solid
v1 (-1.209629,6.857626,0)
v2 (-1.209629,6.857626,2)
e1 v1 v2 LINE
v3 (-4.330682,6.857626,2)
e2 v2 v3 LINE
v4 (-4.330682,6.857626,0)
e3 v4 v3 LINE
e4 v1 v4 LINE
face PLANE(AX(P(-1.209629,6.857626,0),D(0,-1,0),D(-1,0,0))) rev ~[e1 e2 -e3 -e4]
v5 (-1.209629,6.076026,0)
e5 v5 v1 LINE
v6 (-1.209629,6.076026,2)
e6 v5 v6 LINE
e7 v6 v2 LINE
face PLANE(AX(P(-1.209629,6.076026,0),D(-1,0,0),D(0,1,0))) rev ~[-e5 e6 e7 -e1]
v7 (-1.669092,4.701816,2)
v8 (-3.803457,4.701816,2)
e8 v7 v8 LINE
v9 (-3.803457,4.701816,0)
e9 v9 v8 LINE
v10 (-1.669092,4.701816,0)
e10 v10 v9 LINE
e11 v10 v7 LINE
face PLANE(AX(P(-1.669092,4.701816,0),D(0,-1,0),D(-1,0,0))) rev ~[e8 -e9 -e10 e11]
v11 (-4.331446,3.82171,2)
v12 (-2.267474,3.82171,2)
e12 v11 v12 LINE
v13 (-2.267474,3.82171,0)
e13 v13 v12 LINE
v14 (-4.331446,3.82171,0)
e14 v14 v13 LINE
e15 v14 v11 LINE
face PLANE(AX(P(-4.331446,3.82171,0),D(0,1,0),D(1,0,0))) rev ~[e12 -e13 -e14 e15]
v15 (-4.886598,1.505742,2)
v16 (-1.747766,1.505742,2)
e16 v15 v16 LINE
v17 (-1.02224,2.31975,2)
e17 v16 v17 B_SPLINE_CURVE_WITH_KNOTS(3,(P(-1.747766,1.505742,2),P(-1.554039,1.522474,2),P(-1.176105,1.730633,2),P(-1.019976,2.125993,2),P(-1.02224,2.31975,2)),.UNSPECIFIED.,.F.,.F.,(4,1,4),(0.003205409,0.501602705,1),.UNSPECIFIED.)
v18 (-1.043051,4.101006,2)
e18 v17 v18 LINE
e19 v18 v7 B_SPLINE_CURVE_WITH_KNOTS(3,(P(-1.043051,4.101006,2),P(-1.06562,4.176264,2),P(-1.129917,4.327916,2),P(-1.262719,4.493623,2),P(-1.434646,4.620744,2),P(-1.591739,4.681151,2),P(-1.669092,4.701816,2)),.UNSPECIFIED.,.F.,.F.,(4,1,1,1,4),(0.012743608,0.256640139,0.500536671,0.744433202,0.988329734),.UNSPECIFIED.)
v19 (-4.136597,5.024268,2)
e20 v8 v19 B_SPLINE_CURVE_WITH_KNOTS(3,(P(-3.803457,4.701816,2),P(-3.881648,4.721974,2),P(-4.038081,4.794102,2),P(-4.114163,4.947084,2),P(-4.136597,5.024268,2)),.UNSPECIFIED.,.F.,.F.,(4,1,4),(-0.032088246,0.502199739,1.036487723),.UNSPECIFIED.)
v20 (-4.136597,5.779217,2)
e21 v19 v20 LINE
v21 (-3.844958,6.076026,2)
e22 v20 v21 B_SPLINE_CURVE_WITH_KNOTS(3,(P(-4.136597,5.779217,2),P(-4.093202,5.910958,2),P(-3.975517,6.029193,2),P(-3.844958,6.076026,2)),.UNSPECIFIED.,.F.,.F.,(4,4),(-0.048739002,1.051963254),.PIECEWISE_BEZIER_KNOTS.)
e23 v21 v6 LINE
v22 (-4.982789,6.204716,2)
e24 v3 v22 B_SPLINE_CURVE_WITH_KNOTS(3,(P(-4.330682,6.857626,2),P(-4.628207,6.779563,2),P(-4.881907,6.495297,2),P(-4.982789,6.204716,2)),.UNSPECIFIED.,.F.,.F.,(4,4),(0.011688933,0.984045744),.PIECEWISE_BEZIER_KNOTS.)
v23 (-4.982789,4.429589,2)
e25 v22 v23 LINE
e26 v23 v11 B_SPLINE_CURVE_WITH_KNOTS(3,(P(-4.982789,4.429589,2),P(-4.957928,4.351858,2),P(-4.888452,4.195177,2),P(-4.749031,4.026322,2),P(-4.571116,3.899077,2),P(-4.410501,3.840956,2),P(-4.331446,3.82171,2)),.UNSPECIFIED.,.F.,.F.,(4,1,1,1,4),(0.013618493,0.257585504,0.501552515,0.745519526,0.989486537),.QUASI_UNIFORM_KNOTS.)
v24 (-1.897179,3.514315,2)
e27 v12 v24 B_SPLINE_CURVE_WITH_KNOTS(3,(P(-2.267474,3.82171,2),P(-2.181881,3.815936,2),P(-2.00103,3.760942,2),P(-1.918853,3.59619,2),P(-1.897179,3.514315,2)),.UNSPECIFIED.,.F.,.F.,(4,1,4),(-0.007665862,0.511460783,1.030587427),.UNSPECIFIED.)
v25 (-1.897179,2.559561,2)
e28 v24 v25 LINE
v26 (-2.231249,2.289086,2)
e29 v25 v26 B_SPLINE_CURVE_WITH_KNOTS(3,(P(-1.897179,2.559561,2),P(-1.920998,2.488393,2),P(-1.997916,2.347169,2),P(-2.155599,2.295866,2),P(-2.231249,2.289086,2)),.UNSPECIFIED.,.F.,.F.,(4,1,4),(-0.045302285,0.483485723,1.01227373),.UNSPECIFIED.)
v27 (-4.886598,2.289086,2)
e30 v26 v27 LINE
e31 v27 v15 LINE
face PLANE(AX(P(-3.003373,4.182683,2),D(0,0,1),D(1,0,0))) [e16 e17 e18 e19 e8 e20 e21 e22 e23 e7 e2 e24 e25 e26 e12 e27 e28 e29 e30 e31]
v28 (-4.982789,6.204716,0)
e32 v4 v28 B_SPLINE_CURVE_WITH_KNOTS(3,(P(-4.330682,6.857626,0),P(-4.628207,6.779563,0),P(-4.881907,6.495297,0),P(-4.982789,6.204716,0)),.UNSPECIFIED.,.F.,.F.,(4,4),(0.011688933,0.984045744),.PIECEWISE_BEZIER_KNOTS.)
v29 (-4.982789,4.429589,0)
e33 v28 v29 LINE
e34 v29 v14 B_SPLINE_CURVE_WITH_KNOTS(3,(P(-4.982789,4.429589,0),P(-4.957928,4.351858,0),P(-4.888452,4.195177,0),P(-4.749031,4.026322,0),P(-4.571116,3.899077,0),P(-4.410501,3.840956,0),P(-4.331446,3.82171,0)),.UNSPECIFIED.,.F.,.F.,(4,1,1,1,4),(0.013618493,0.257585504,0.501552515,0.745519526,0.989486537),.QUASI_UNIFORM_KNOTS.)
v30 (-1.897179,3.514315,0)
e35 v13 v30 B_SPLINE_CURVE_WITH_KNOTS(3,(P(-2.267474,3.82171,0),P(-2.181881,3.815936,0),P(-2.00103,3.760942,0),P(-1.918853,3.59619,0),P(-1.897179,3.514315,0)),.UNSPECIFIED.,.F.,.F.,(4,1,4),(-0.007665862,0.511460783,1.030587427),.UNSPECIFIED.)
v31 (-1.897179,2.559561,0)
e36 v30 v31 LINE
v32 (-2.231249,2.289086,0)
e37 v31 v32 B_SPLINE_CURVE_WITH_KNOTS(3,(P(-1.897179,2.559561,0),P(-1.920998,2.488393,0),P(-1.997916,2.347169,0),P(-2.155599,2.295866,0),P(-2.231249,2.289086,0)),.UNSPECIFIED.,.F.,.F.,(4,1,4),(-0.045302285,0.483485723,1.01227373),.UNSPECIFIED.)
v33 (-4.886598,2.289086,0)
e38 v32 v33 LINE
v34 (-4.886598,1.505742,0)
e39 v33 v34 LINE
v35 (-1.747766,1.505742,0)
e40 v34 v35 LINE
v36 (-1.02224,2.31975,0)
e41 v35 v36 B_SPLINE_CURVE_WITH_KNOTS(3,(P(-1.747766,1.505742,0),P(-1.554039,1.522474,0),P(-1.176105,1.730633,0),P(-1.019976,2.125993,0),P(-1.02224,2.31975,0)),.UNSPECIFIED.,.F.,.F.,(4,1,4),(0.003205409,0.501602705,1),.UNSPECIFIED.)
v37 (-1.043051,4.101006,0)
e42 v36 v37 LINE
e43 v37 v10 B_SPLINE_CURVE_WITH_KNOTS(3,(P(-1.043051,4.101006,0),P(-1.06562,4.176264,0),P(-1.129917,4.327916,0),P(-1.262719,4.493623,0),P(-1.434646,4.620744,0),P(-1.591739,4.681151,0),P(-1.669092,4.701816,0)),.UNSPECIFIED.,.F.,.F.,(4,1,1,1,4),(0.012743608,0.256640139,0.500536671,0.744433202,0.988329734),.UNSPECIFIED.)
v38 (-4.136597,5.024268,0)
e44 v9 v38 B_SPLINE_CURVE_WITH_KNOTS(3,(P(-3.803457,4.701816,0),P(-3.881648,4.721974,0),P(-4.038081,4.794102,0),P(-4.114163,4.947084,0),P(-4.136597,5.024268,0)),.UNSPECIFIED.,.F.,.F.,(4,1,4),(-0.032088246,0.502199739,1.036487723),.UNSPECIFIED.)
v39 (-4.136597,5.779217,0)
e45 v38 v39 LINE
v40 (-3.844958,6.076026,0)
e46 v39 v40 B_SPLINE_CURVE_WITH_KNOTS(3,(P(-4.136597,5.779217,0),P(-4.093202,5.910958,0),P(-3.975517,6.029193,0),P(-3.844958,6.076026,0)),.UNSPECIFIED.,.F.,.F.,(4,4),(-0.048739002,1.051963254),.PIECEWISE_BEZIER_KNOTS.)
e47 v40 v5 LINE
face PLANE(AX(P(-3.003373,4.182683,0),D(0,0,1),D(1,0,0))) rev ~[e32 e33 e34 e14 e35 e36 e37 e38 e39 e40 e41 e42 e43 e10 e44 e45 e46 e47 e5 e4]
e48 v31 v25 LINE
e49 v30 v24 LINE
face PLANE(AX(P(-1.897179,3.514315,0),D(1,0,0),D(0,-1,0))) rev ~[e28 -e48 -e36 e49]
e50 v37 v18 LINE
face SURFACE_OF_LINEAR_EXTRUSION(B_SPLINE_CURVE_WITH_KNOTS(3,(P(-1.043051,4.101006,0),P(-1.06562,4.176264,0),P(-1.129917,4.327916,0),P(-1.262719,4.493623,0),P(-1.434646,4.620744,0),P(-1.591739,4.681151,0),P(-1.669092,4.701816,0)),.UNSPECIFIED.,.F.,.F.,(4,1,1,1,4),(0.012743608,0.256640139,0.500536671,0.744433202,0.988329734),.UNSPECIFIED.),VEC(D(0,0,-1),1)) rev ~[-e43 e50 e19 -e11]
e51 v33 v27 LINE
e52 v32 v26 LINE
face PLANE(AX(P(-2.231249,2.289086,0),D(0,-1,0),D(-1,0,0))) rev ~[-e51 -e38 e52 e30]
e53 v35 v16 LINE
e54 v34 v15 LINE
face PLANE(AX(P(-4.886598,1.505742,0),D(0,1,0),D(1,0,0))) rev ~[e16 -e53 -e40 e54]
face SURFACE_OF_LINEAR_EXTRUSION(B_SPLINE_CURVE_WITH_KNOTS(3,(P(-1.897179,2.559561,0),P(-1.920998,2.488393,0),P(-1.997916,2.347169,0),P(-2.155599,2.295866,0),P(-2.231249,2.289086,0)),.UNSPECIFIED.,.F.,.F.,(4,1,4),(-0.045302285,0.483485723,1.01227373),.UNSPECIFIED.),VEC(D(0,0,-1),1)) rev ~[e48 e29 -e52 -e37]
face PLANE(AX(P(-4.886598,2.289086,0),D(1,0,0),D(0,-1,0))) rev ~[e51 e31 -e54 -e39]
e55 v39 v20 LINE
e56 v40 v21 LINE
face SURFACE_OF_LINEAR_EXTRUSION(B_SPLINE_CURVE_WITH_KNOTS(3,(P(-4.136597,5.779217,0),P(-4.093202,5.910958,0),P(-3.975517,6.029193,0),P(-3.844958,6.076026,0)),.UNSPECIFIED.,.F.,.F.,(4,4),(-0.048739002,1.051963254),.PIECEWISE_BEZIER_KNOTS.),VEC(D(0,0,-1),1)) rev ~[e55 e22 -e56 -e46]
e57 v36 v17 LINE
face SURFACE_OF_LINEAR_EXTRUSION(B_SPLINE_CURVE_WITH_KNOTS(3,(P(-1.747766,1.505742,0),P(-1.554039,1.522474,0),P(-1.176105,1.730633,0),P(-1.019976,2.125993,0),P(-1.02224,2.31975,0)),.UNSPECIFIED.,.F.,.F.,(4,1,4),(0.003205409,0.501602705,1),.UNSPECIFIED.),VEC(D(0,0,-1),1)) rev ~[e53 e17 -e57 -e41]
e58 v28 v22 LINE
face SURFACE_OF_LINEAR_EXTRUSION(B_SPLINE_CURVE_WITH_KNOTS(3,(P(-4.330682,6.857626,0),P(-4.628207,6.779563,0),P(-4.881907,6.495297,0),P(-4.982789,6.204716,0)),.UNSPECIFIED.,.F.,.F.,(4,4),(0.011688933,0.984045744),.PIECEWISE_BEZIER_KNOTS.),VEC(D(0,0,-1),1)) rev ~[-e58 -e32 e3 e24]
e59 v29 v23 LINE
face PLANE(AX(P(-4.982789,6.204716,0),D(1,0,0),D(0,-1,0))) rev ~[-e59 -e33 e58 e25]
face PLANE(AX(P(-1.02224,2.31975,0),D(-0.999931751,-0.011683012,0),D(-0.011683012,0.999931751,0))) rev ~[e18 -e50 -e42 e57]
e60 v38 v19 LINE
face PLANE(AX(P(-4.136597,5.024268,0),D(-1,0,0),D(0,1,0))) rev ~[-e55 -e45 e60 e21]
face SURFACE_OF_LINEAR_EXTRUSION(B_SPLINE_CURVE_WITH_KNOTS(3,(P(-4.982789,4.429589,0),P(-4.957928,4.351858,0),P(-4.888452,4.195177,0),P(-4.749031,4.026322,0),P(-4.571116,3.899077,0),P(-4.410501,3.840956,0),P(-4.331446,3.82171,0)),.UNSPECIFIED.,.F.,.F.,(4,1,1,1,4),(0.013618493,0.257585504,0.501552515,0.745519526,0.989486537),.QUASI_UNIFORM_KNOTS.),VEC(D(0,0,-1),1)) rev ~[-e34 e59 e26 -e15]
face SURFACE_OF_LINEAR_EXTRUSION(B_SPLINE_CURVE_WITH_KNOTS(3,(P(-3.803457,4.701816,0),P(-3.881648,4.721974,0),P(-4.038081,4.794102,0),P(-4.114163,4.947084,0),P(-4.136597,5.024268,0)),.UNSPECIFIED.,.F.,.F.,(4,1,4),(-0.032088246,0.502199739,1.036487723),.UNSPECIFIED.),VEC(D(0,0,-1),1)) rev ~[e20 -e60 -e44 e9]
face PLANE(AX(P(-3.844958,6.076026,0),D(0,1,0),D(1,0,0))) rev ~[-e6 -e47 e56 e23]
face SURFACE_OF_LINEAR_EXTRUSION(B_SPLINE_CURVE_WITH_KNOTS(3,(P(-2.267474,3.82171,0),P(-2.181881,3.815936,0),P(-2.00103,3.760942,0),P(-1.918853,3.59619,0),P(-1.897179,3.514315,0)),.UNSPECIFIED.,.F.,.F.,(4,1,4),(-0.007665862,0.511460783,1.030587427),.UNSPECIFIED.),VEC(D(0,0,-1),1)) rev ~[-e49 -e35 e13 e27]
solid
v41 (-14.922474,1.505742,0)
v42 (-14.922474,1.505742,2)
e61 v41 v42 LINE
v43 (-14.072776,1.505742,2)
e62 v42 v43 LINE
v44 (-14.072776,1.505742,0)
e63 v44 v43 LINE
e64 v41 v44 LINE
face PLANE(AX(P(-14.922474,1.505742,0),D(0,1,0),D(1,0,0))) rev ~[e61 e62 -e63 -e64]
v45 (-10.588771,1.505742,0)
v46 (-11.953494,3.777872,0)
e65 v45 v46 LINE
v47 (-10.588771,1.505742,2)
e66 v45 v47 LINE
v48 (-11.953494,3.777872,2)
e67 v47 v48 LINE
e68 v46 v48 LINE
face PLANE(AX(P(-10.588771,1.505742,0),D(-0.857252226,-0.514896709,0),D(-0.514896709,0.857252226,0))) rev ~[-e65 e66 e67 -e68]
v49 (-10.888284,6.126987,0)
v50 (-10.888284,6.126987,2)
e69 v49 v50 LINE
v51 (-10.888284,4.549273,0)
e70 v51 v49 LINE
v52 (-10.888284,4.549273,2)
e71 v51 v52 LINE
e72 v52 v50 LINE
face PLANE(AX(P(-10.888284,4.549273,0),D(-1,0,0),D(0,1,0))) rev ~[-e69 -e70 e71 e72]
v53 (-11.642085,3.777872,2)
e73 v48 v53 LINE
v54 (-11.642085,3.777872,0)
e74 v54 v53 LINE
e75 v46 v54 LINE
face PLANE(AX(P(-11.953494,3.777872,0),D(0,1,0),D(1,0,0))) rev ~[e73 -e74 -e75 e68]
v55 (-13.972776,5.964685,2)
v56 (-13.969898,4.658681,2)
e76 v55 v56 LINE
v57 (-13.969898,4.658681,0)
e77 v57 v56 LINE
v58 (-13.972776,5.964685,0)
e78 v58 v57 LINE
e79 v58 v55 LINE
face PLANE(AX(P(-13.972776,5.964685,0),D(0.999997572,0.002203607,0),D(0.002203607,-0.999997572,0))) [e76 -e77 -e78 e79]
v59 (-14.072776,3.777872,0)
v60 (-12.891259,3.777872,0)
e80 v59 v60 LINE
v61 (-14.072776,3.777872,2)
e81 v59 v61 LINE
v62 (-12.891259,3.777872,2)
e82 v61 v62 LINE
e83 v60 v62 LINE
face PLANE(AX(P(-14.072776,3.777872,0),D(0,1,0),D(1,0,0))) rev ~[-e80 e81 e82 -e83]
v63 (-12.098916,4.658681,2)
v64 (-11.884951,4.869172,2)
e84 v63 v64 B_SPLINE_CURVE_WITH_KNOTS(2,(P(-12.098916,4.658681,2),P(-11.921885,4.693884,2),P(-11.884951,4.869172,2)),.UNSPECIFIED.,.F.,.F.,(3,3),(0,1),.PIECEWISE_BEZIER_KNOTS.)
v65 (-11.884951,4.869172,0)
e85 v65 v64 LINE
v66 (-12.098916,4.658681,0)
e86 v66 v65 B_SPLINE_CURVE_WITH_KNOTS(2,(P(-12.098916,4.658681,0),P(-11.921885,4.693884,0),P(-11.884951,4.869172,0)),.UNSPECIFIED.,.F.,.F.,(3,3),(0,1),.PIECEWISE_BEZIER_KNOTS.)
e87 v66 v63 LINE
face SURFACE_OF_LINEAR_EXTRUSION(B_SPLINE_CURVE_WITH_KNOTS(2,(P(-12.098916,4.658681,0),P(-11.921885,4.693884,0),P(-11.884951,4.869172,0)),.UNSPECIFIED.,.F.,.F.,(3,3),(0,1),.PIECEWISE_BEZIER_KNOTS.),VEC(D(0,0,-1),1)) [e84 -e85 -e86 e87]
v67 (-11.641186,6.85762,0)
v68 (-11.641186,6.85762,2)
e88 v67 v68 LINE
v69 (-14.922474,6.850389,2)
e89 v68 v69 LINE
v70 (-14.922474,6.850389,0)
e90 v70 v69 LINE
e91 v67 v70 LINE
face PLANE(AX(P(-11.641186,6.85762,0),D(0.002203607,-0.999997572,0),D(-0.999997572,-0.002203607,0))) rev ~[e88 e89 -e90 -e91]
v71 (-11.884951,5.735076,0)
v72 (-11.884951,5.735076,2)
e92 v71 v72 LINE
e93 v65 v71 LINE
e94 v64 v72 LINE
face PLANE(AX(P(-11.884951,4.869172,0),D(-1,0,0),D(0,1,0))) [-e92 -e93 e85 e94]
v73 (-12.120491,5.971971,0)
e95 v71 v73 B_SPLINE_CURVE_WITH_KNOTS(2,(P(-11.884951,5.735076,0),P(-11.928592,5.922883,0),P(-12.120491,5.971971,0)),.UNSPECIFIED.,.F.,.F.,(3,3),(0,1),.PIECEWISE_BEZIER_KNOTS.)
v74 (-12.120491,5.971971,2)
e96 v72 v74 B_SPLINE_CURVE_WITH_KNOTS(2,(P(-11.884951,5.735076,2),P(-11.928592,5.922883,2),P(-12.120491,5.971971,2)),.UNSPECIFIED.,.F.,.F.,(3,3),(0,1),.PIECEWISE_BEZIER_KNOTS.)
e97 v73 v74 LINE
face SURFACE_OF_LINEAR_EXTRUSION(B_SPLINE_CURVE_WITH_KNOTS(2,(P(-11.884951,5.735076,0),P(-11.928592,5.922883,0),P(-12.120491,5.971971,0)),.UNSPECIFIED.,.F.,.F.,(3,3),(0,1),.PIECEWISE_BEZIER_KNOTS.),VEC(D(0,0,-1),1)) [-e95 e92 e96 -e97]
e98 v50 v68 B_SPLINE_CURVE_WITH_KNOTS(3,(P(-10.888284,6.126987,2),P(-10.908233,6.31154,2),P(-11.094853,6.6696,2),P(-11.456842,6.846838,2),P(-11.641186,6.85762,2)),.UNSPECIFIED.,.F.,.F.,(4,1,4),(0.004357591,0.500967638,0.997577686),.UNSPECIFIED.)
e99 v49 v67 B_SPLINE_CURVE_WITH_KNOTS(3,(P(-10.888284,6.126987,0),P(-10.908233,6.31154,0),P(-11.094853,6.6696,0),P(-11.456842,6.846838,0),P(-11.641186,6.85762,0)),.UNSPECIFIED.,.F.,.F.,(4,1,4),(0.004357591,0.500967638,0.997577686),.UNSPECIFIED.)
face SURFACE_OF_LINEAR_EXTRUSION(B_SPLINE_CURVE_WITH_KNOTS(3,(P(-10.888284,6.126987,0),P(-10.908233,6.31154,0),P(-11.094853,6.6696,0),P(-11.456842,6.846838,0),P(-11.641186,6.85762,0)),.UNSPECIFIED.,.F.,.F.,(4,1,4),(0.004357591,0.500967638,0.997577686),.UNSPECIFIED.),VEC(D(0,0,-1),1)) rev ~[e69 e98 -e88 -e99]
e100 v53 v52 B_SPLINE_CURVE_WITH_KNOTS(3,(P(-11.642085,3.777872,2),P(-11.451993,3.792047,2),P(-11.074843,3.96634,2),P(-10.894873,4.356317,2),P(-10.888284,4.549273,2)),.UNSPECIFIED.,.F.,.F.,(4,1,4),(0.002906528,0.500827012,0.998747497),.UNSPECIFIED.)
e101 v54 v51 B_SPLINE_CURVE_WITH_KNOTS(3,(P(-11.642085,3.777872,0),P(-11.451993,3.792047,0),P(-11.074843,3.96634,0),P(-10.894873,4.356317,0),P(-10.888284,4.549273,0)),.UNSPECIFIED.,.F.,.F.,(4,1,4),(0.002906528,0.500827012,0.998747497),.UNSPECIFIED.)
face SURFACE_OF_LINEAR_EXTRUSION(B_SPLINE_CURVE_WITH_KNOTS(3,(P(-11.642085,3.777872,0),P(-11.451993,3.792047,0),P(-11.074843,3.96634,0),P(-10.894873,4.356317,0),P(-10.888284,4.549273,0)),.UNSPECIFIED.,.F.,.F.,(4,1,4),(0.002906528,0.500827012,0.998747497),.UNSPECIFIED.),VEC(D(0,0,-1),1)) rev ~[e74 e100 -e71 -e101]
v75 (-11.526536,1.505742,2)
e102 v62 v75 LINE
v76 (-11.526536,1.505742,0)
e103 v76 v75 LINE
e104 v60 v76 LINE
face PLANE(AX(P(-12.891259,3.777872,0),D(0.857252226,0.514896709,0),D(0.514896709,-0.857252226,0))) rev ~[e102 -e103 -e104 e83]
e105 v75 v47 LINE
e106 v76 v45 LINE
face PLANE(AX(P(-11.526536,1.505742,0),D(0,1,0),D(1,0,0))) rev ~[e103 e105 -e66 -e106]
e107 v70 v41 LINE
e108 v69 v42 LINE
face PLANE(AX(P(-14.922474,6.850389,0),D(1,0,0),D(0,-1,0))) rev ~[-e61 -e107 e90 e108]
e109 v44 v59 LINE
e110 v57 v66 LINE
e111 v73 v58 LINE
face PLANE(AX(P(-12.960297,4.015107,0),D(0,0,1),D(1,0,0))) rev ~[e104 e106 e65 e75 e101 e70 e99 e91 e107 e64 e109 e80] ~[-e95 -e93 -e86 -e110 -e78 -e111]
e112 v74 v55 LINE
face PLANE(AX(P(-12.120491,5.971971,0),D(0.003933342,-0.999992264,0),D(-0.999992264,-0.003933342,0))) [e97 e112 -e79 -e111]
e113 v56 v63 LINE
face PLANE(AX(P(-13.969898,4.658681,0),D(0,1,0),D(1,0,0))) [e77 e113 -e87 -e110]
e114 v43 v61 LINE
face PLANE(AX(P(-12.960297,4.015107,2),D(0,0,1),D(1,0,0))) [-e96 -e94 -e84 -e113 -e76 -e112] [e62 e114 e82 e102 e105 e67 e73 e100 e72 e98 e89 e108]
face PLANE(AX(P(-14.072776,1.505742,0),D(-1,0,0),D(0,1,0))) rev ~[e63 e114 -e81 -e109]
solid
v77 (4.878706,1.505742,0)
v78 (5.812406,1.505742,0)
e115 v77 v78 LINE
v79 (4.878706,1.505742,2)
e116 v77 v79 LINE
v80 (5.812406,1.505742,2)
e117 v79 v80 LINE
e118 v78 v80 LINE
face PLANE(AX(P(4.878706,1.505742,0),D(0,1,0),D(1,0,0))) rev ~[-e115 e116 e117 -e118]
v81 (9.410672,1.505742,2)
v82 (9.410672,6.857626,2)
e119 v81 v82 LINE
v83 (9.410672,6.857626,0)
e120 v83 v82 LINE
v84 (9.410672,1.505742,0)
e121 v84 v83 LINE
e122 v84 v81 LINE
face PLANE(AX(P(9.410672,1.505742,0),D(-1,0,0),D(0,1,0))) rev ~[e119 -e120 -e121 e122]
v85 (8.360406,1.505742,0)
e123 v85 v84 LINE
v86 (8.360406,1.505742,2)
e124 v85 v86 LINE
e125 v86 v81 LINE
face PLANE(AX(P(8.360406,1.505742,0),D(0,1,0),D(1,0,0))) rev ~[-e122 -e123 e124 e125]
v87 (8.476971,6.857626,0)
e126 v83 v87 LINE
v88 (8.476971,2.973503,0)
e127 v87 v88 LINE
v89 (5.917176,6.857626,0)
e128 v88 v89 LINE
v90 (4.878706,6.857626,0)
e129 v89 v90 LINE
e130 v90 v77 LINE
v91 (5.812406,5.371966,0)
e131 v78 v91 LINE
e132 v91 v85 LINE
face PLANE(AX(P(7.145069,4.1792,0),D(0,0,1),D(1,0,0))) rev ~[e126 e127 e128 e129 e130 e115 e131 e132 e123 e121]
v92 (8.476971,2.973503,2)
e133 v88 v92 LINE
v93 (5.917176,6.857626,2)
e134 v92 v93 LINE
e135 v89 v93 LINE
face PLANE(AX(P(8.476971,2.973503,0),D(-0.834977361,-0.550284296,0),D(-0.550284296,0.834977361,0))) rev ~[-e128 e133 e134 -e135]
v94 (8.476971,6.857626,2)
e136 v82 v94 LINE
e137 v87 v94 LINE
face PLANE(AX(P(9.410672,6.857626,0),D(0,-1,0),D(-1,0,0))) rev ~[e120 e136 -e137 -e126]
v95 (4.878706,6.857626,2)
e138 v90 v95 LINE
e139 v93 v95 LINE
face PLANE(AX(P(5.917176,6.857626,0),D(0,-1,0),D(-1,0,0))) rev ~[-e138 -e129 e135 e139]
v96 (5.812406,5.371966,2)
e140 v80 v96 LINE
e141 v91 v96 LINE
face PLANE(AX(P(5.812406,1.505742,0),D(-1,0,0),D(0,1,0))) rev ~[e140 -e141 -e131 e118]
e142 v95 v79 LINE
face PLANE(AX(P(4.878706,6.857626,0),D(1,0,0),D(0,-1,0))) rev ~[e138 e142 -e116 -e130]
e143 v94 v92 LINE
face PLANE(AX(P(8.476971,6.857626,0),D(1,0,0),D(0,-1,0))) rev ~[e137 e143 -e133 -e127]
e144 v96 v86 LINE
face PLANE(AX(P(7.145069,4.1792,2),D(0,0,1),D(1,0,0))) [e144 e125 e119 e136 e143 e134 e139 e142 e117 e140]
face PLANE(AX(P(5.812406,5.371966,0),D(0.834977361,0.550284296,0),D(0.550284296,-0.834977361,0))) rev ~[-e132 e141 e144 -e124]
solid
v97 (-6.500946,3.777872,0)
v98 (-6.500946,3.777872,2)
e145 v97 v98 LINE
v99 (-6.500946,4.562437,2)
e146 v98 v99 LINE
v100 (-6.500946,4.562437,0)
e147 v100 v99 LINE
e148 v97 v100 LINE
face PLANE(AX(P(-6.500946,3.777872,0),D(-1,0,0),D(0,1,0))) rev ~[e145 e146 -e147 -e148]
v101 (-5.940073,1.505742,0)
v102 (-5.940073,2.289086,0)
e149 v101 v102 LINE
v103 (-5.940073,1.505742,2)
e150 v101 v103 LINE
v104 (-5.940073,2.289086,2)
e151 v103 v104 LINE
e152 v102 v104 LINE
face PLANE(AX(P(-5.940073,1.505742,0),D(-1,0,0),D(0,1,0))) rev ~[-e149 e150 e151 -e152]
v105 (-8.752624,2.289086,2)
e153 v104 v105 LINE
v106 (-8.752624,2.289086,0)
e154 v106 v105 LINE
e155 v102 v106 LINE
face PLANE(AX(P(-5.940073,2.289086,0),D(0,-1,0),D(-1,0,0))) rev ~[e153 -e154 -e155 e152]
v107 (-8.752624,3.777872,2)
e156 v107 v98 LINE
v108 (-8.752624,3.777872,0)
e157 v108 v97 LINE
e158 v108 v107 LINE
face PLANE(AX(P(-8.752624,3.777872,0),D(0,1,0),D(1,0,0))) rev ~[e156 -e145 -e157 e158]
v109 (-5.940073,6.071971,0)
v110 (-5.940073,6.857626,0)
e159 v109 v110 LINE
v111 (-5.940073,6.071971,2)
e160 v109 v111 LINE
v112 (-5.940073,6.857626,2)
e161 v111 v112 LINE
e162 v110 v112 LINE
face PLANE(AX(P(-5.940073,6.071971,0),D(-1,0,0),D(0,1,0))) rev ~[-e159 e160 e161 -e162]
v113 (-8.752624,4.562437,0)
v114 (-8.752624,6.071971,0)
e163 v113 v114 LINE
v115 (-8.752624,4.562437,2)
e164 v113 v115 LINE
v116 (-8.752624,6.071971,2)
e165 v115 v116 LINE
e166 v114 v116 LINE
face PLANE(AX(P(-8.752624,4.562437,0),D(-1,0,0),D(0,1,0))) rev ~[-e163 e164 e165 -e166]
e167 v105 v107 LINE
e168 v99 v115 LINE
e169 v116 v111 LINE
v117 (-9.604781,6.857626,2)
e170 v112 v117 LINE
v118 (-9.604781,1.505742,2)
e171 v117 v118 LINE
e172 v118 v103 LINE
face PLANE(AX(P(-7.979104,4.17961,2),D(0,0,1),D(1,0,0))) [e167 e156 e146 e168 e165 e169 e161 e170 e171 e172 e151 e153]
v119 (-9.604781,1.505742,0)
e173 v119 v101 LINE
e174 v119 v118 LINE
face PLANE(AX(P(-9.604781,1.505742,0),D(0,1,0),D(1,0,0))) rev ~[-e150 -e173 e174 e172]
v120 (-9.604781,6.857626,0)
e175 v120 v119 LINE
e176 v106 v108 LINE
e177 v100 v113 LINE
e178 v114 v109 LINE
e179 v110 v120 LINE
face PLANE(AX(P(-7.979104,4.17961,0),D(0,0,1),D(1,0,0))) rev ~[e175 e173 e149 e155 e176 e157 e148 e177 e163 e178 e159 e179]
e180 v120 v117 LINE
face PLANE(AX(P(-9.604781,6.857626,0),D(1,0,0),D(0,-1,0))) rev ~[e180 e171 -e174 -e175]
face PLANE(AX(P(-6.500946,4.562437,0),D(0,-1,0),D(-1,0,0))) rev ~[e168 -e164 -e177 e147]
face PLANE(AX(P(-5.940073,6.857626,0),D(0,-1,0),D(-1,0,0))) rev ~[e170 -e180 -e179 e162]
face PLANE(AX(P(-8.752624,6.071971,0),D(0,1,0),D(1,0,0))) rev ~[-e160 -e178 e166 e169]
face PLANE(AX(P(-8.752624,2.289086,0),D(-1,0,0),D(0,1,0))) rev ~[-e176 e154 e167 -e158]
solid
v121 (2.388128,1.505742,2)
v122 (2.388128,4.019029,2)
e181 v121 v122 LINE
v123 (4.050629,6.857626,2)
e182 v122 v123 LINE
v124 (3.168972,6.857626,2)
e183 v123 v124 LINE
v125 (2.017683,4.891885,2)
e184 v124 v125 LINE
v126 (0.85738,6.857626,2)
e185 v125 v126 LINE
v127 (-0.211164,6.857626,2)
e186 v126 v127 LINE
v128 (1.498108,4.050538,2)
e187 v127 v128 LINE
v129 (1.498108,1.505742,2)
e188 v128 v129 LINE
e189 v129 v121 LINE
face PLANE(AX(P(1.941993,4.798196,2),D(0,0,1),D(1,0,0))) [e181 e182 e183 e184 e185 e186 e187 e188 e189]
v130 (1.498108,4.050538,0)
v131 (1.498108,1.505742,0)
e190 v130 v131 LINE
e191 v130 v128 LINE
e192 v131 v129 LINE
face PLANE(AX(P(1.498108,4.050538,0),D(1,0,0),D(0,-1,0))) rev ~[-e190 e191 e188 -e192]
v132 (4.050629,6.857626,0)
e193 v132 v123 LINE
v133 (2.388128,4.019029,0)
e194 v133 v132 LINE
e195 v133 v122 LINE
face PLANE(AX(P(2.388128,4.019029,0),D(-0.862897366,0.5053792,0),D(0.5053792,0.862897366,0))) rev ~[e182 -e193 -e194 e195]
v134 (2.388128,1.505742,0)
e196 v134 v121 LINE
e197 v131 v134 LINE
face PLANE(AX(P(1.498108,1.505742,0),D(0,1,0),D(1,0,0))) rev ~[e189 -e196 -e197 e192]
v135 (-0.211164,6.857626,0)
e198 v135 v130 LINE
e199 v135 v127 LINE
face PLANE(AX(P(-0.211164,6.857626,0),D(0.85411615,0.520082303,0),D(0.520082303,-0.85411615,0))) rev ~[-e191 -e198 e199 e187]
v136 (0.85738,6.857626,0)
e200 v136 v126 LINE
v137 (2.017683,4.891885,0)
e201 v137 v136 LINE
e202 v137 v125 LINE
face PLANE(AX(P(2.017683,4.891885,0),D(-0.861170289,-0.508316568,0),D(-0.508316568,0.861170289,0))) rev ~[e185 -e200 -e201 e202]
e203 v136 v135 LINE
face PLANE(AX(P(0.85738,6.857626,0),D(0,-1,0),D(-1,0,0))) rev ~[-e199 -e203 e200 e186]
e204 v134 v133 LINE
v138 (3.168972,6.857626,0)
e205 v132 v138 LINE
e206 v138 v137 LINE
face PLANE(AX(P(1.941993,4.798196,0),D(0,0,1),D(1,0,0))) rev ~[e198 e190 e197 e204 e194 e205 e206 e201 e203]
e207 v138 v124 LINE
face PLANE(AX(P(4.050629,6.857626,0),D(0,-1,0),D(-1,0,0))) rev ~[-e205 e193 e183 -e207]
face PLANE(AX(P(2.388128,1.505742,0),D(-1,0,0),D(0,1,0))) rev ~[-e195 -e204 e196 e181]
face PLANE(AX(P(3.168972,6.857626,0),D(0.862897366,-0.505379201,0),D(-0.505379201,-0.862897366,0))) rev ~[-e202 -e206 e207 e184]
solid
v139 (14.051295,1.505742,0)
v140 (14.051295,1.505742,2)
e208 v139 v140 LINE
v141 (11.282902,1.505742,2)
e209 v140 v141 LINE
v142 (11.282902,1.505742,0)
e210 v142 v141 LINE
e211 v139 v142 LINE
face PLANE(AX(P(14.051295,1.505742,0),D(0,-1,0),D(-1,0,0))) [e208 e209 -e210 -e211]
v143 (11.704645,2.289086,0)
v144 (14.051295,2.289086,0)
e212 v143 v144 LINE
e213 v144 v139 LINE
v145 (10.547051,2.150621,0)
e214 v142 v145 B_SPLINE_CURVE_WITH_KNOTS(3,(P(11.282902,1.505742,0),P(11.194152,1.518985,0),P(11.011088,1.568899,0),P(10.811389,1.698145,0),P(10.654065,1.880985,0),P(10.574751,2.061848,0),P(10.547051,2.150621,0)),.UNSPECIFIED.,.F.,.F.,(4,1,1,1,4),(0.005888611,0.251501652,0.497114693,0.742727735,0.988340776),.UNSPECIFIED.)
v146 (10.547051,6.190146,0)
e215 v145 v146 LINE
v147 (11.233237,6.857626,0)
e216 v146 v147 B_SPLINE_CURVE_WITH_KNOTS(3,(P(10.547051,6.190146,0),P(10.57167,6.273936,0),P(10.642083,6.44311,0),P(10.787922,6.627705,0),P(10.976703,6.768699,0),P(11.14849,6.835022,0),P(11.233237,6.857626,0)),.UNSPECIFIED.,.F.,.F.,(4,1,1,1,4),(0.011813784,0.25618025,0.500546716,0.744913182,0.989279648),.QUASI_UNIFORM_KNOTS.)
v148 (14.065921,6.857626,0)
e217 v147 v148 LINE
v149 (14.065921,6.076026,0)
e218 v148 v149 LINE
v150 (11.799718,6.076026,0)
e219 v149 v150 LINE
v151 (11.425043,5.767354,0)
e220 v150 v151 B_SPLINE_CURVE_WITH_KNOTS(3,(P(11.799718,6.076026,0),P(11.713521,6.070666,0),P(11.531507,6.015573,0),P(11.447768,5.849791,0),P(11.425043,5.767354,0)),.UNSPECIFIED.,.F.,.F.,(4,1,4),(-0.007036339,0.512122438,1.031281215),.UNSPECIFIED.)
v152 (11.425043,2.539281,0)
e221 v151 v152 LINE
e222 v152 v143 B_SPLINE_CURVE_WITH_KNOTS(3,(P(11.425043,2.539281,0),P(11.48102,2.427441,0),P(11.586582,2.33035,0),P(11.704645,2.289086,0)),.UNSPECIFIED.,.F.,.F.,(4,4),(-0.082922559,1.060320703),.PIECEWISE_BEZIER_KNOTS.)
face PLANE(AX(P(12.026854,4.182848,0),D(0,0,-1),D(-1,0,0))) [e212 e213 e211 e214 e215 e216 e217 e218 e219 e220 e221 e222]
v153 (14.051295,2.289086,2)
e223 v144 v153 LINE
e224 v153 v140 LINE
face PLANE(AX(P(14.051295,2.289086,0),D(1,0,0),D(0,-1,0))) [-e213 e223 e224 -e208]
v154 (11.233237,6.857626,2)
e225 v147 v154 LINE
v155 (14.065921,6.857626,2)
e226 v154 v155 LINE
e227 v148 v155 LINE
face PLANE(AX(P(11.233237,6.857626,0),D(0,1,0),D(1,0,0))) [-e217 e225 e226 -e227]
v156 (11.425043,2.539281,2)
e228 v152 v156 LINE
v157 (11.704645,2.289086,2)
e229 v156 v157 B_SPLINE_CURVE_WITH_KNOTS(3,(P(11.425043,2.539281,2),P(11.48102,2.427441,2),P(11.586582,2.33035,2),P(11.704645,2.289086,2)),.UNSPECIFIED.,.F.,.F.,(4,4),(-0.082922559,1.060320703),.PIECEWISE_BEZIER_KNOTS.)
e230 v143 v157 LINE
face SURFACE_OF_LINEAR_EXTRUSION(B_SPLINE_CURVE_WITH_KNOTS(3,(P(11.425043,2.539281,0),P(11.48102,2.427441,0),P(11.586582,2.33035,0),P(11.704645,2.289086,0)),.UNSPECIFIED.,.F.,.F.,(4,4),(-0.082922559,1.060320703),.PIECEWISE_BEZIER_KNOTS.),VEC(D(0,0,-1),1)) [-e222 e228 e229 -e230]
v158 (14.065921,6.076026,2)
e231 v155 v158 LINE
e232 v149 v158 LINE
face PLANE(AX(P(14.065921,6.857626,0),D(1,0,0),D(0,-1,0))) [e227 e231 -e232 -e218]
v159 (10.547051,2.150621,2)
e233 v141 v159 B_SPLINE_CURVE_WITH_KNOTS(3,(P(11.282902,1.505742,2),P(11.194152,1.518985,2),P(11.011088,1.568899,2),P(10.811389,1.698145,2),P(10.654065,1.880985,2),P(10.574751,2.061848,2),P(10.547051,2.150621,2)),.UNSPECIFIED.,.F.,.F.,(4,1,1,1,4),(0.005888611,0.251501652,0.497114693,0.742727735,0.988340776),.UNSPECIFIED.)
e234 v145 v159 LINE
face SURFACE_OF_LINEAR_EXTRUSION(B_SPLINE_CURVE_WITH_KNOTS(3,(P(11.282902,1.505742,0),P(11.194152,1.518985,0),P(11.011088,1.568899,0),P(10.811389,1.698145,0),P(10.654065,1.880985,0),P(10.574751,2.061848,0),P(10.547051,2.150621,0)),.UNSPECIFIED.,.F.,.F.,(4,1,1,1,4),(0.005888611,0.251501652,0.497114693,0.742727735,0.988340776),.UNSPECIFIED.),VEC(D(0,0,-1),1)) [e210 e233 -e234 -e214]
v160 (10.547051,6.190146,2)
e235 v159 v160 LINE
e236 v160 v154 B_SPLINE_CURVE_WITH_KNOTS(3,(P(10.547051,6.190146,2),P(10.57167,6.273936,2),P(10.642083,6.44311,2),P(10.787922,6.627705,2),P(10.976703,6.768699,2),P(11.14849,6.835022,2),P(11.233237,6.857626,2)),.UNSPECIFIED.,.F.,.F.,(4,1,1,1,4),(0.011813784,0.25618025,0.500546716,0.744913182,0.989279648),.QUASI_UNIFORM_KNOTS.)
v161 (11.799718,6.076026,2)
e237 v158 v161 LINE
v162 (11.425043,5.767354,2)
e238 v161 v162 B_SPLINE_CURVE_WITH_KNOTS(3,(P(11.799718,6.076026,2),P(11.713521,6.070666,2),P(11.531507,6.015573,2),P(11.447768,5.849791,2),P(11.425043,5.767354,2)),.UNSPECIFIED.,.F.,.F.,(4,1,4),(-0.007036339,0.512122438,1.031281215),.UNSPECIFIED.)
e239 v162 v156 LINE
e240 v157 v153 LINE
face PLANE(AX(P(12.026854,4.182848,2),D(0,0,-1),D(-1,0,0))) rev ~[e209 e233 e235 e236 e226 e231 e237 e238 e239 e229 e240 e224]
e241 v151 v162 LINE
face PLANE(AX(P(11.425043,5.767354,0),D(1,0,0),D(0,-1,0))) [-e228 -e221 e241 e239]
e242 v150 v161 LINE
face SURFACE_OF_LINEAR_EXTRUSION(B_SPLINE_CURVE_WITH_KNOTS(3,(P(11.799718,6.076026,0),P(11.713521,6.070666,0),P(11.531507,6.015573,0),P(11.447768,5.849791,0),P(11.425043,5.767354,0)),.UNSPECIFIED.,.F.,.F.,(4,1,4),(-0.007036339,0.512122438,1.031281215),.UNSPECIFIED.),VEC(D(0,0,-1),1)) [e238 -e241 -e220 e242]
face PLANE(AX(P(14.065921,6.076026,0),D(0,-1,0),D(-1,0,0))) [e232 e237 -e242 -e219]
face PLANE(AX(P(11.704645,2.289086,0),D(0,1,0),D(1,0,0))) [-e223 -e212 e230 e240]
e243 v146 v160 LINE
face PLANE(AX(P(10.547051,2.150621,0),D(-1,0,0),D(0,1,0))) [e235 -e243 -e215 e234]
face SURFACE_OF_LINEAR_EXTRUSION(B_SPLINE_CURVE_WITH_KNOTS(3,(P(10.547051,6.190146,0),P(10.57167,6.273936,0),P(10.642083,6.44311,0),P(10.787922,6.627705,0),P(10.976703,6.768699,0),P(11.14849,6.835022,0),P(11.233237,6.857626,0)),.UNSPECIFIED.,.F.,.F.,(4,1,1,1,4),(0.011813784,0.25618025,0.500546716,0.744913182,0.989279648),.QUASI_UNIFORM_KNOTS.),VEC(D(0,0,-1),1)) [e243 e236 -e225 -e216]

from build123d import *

# Parameters (mm, degrees)
BOSS_EXTRUDE8_DEPTH   = 2
BOSS_EXTRUDE8_2_DEPTH = 2
BOSS_EXTRUDE8_3_DEPTH = 2
BOSS_EXTRUDE8_4_DEPTH = 2
BOSS_EXTRUDE8_5_DEPTH = 2
BOSS_EXTRUDE8_6_DEPTH = 2


with BuildPart() as part:
    # Sketch39 → Boss-Extrude8 (new body)
    with BuildSketch(Plane.XY):
        with BuildLine():
            Line((-10.888283658, 4.549273437), (-10.888283658, 6.126987026))
            add(Edge.make_bspline(
                [(-10.888283658, 6.126987026), (-10.908232756, 6.311540114), (-11.094852516, 6.669600397), (-11.456841906, 6.846838223), (-11.641186102, 6.857619555)],
                knots=[0.004357591, 0.004357591, 0.004357591, 0.004357591, 0.500967638, 0.997577686, 0.997577686, 0.997577686, 0.997577686], degree=3))
            Line((-11.641186102, 6.857619555), (-14.922474371, 6.850388867))
            Line((-14.922474371, 6.850388867), (-14.922474371, 1.505742473))
            Line((-14.922474371, 1.505742473), (-14.072776349, 1.505742473))
            Line((-14.072776349, 1.505742473), (-14.072776349, 3.777872176))
            Line((-14.072776349, 3.777872176), (-12.891259134, 3.777872176))
            Line((-12.891259134, 3.777872176), (-11.52653581, 1.505742473))
            Line((-11.52653581, 1.505742473), (-10.588770825, 1.505742473))
            Line((-10.588770825, 1.505742473), (-11.953494149, 3.777872176))
            Line((-11.953494149, 3.777872176), (-11.642084885, 3.777872176))
            add(Edge.make_bspline(
                [(-11.642084885, 3.777872176), (-11.451993433, 3.792046974), (-11.074843016, 3.966339896), (-10.894872856, 4.35631666), (-10.888283658, 4.549273437)],
                knots=[0.002906528, 0.002906528, 0.002906528, 0.002906528, 0.500827012, 0.998747497, 0.998747497, 0.998747497, 0.998747497], degree=3))
        make_face()
        with BuildLine():
            add(Edge.make_bspline(
                [(-11.884951007, 5.735076037), (-11.928592054, 5.922883289), (-12.120490935, 5.97197097)],
                knots=[0, 0, 0, 1, 1, 1], degree=2))
            Line((-12.120490935, 5.97197097), (-13.972776349, 5.964685241))
            Line((-13.972776349, 5.964685241), (-13.969898423, 4.658681327))
            Line((-13.969898423, 4.658681327), (-12.098915788, 4.658681327))
            add(Edge.make_bspline(
                [(-12.098915788, 4.658681327), (-11.921884887, 4.693884027), (-11.884951007, 4.869171619)],
                knots=[0, 0, 0, 1, 1, 1], degree=2))
            Line((-11.884951007, 4.869171619), (-11.884951007, 5.735076037))
        make_face(mode=Mode.SUBTRACT)
    extrude(amount=BOSS_EXTRUDE8_DEPTH)


with BuildPart() as body_2:
    # Sketch39 → Boss-Extrude8 2 (new body)
    with BuildSketch(Plane.XY):
        Polygon((-8.752624131, 6.07197097), (-5.94007284, 6.07197097), (-5.94007284, 6.857625765), (-9.60478091, 6.857625765), (-9.60478091, 1.505742473), (-5.94007284, 1.505742473), (-5.94007284, 2.289085691), (-8.752624131, 2.289085691), (-8.752624131, 3.777872176), (-6.500945529, 3.777872176), (-6.500945529, 4.562436919), (-8.752624131, 4.562436919), align=None)
    extrude(amount=BOSS_EXTRUDE8_2_DEPTH)


with BuildPart() as body_3:
    # Sketch39 → Boss-Extrude8 3 (new body)
    with BuildSketch(Plane.XY):
        with BuildLine():
            Line((-4.331445745, 3.821709693), (-2.267474021, 3.821709693))
            add(Edge.make_bspline(
                [(-2.267474021, 3.821709693), (-2.18188065, 3.81593612), (-2.001029862, 3.760941511), (-1.918852857, 3.596190197), (-1.897178545, 3.514314513)],
                knots=[-0.007665862, -0.007665862, -0.007665862, -0.007665862, 0.511460783, 1.030587427, 1.030587427, 1.030587427, 1.030587427], degree=3))
            Line((-1.897178545, 3.514314513), (-1.897178545, 2.559561474))
            add(Edge.make_bspline(
                [(-1.897178545, 2.559561474), (-1.920997625, 2.488393268), (-1.997915919, 2.347168794), (-2.155599312, 2.295866478), (-2.231249257, 2.289085691)],
                knots=[-0.045302285, -0.045302285, -0.045302285, -0.045302285, 0.483485723, 1.01227373, 1.01227373, 1.01227373, 1.01227373], degree=3))
            Line((-2.231249257, 2.289085691), (-4.88659772, 2.289085691))
            Line((-4.88659772, 2.289085691), (-4.88659772, 1.505742473))
            Line((-4.88659772, 1.505742473), (-1.747765617, 1.505742473))
            add(Edge.make_bspline(
                [(-1.747765617, 1.505742473), (-1.554039499, 1.522473909), (-1.176105355, 1.730633067), (-1.019975744, 2.125993011), (-1.022239558, 2.319749566)],
                knots=[0.003205409, 0.003205409, 0.003205409, 0.003205409, 0.501602705, 1, 1, 1, 1], degree=3))
            Line((-1.022239558, 2.319749566), (-1.043051423, 4.10100641))
            add(Edge.make_bspline(
                [(-1.043051423, 4.10100641), (-1.065619796, 4.176263738), (-1.129917251, 4.327916486), (-1.262718984, 4.49362296), (-1.434645881, 4.620744007), (-1.591738794, 4.681150616), (-1.669091916, 4.701815782)],
                knots=[0.012743608, 0.012743608, 0.012743608, 0.012743608, 0.256640139, 0.500536671, 0.744433202, 0.988329734, 0.988329734, 0.988329734, 0.988329734], degree=3))
            Line((-1.669091916, 4.701815782), (-3.80345691, 4.701815782))
            add(Edge.make_bspline(
                [(-3.80345691, 4.701815782), (-3.881648249, 4.721973704), (-4.038081478, 4.794101762), (-4.114162603, 4.947083549), (-4.136596871, 5.024268339)],
                knots=[-0.032088246, -0.032088246, -0.032088246, -0.032088246, 0.502199739, 1.036487723, 1.036487723, 1.036487723, 1.036487723], degree=3))
            Line((-4.136596871, 5.024268339), (-4.136596871, 5.779216833))
            add(Edge.make_bspline(
                [(-4.136596871, 5.779216833), (-4.09320159, 5.910957545), (-3.975516536, 6.029193296), (-3.844958381, 6.076026335)],
                knots=[-0.048739002, -0.048739002, -0.048739002, -0.048739002, 1.051963254, 1.051963254, 1.051963254, 1.051963254], degree=3))
            Line((-3.844958381, 6.076026335), (-1.209628903, 6.076026335))
            Line((-1.209628903, 6.076026335), (-1.209628903, 6.857625765))
            Line((-1.209628903, 6.857625765), (-4.33068222, 6.857625765))
            add(Edge.make_bspline(
                [(-4.33068222, 6.857625765), (-4.628207422, 6.779563045), (-4.88190688, 6.495297474), (-4.98278942, 6.204715734)],
                knots=[0.011688933, 0.011688933, 0.011688933, 0.011688933, 0.984045744, 0.984045744, 0.984045744, 0.984045744], degree=3))
            Line((-4.98278942, 6.204715734), (-4.98278942, 4.429589182))
            add(Edge.make_bspline(
                [(-4.98278942, 4.429589182), (-4.957928137, 4.351858109), (-4.888451922, 4.195176517), (-4.749030804, 4.026321893), (-4.57111561, 3.899076851), (-4.410501277, 3.840956124), (-4.331445745, 3.821709693)],
                knots=[0.013618493, 0.013618493, 0.013618493, 0.013618493, 0.257585504, 0.501552515, 0.745519526, 0.989486537, 0.989486537, 0.989486537, 0.989486537], degree=3))
        make_face()
    extrude(amount=BOSS_EXTRUDE8_3_DEPTH)


with BuildPart() as body_4:
    # Sketch39 → Boss-Extrude8 4 (new body)
    with BuildSketch(Plane.XY):
        Polygon((8.476971429, 6.857625765), (8.476971429, 2.97350344), (5.917175659, 6.857625765), (4.878705551, 6.857625765), (4.878705551, 1.505742473), (5.812405759, 1.505742473), (5.812405759, 5.371966432), (8.360405772, 1.505742473), (9.410671637, 1.505742473), (9.410671637, 6.857625765), align=None)
    extrude(amount=BOSS_EXTRUDE8_4_DEPTH)


with BuildPart() as body_5:
    # Sketch39 → Boss-Extrude8 5 (new body)
    with BuildSketch(Plane.XY):
        with BuildLine():
            add(Edge.make_bspline(
                [(11.282902439, 1.505742473), (11.19415179, 1.518984982), (11.011088341, 1.568898827), (10.811389164, 1.698145446), (10.65406452, 1.880985323), (10.574750759, 2.06184818), (10.547050594, 2.150621319)],
                knots=[0.005888611, 0.005888611, 0.005888611, 0.005888611, 0.251501652, 0.497114693, 0.742727735, 0.988340776, 0.988340776, 0.988340776, 0.988340776], degree=3))
            Line((10.547050594, 2.150621319), (10.547050594, 6.190146216))
            add(Edge.make_bspline(
                [(10.547050594, 6.190146216), (10.571669638, 6.27393603), (10.642083437, 6.443109543), (10.787921904, 6.627705307), (10.976703119, 6.768698533), (11.148490286, 6.83502177), (11.233236627, 6.857625765)],
                knots=[0.011813784, 0.011813784, 0.011813784, 0.011813784, 0.25618025, 0.500546716, 0.744913182, 0.989279648, 0.989279648, 0.989279648, 0.989279648], degree=3))
            Line((11.233236627, 6.857625765), (14.065921312, 6.857625765))
            Line((14.065921312, 6.857625765), (14.065921312, 6.076026335))
            Line((14.065921312, 6.076026335), (11.799717704, 6.076026335))
            add(Edge.make_bspline(
                [(11.799717704, 6.076026335), (11.713521041, 6.070666208), (11.531507403, 6.015572919), (11.447768348, 5.849791271), (11.425043158, 5.767354498)],
                knots=[-0.007036339, -0.007036339, -0.007036339, -0.007036339, 0.512122438, 1.031281215, 1.031281215, 1.031281215, 1.031281215], degree=3))
            Line((11.425043158, 5.767354498), (11.425043158, 2.53928051))
            add(Edge.make_bspline(
                [(11.425043158, 2.53928051), (11.481020414, 2.427440582), (11.586582072, 2.330350466), (11.704644941, 2.289085691)],
                knots=[-0.082922559, -0.082922559, -0.082922559, -0.082922559, 1.060320703, 1.060320703, 1.060320703, 1.060320703], degree=3))
            Line((11.704644941, 2.289085691), (14.051295186, 2.289085691))
            Line((14.051295186, 2.289085691), (14.051295186, 1.505742473))
            Line((14.051295186, 1.505742473), (11.282902439, 1.505742473))
        make_face()
    extrude(amount=BOSS_EXTRUDE8_5_DEPTH)


with BuildPart() as body_6:
    # Sketch39 → Boss-Extrude8 6 (new body)
    with BuildSketch(Plane.XY):
        Polygon((2.017682999, 4.891885001), (0.857379848, 6.857625765), (-0.211164194, 6.857625765), (1.498107647, 4.050537974), (1.498107647, 1.505742473), (2.388128238, 1.505742473), (2.388128238, 4.019029191), (4.05062916, 6.857625765), (3.16897229, 6.857625765), align=None)
    extrude(amount=BOSS_EXTRUDE8_6_DEPTH)


solid = Compound([part.part, body_2.part, body_3.part, body_4.part, body_5.part, body_6.part])
